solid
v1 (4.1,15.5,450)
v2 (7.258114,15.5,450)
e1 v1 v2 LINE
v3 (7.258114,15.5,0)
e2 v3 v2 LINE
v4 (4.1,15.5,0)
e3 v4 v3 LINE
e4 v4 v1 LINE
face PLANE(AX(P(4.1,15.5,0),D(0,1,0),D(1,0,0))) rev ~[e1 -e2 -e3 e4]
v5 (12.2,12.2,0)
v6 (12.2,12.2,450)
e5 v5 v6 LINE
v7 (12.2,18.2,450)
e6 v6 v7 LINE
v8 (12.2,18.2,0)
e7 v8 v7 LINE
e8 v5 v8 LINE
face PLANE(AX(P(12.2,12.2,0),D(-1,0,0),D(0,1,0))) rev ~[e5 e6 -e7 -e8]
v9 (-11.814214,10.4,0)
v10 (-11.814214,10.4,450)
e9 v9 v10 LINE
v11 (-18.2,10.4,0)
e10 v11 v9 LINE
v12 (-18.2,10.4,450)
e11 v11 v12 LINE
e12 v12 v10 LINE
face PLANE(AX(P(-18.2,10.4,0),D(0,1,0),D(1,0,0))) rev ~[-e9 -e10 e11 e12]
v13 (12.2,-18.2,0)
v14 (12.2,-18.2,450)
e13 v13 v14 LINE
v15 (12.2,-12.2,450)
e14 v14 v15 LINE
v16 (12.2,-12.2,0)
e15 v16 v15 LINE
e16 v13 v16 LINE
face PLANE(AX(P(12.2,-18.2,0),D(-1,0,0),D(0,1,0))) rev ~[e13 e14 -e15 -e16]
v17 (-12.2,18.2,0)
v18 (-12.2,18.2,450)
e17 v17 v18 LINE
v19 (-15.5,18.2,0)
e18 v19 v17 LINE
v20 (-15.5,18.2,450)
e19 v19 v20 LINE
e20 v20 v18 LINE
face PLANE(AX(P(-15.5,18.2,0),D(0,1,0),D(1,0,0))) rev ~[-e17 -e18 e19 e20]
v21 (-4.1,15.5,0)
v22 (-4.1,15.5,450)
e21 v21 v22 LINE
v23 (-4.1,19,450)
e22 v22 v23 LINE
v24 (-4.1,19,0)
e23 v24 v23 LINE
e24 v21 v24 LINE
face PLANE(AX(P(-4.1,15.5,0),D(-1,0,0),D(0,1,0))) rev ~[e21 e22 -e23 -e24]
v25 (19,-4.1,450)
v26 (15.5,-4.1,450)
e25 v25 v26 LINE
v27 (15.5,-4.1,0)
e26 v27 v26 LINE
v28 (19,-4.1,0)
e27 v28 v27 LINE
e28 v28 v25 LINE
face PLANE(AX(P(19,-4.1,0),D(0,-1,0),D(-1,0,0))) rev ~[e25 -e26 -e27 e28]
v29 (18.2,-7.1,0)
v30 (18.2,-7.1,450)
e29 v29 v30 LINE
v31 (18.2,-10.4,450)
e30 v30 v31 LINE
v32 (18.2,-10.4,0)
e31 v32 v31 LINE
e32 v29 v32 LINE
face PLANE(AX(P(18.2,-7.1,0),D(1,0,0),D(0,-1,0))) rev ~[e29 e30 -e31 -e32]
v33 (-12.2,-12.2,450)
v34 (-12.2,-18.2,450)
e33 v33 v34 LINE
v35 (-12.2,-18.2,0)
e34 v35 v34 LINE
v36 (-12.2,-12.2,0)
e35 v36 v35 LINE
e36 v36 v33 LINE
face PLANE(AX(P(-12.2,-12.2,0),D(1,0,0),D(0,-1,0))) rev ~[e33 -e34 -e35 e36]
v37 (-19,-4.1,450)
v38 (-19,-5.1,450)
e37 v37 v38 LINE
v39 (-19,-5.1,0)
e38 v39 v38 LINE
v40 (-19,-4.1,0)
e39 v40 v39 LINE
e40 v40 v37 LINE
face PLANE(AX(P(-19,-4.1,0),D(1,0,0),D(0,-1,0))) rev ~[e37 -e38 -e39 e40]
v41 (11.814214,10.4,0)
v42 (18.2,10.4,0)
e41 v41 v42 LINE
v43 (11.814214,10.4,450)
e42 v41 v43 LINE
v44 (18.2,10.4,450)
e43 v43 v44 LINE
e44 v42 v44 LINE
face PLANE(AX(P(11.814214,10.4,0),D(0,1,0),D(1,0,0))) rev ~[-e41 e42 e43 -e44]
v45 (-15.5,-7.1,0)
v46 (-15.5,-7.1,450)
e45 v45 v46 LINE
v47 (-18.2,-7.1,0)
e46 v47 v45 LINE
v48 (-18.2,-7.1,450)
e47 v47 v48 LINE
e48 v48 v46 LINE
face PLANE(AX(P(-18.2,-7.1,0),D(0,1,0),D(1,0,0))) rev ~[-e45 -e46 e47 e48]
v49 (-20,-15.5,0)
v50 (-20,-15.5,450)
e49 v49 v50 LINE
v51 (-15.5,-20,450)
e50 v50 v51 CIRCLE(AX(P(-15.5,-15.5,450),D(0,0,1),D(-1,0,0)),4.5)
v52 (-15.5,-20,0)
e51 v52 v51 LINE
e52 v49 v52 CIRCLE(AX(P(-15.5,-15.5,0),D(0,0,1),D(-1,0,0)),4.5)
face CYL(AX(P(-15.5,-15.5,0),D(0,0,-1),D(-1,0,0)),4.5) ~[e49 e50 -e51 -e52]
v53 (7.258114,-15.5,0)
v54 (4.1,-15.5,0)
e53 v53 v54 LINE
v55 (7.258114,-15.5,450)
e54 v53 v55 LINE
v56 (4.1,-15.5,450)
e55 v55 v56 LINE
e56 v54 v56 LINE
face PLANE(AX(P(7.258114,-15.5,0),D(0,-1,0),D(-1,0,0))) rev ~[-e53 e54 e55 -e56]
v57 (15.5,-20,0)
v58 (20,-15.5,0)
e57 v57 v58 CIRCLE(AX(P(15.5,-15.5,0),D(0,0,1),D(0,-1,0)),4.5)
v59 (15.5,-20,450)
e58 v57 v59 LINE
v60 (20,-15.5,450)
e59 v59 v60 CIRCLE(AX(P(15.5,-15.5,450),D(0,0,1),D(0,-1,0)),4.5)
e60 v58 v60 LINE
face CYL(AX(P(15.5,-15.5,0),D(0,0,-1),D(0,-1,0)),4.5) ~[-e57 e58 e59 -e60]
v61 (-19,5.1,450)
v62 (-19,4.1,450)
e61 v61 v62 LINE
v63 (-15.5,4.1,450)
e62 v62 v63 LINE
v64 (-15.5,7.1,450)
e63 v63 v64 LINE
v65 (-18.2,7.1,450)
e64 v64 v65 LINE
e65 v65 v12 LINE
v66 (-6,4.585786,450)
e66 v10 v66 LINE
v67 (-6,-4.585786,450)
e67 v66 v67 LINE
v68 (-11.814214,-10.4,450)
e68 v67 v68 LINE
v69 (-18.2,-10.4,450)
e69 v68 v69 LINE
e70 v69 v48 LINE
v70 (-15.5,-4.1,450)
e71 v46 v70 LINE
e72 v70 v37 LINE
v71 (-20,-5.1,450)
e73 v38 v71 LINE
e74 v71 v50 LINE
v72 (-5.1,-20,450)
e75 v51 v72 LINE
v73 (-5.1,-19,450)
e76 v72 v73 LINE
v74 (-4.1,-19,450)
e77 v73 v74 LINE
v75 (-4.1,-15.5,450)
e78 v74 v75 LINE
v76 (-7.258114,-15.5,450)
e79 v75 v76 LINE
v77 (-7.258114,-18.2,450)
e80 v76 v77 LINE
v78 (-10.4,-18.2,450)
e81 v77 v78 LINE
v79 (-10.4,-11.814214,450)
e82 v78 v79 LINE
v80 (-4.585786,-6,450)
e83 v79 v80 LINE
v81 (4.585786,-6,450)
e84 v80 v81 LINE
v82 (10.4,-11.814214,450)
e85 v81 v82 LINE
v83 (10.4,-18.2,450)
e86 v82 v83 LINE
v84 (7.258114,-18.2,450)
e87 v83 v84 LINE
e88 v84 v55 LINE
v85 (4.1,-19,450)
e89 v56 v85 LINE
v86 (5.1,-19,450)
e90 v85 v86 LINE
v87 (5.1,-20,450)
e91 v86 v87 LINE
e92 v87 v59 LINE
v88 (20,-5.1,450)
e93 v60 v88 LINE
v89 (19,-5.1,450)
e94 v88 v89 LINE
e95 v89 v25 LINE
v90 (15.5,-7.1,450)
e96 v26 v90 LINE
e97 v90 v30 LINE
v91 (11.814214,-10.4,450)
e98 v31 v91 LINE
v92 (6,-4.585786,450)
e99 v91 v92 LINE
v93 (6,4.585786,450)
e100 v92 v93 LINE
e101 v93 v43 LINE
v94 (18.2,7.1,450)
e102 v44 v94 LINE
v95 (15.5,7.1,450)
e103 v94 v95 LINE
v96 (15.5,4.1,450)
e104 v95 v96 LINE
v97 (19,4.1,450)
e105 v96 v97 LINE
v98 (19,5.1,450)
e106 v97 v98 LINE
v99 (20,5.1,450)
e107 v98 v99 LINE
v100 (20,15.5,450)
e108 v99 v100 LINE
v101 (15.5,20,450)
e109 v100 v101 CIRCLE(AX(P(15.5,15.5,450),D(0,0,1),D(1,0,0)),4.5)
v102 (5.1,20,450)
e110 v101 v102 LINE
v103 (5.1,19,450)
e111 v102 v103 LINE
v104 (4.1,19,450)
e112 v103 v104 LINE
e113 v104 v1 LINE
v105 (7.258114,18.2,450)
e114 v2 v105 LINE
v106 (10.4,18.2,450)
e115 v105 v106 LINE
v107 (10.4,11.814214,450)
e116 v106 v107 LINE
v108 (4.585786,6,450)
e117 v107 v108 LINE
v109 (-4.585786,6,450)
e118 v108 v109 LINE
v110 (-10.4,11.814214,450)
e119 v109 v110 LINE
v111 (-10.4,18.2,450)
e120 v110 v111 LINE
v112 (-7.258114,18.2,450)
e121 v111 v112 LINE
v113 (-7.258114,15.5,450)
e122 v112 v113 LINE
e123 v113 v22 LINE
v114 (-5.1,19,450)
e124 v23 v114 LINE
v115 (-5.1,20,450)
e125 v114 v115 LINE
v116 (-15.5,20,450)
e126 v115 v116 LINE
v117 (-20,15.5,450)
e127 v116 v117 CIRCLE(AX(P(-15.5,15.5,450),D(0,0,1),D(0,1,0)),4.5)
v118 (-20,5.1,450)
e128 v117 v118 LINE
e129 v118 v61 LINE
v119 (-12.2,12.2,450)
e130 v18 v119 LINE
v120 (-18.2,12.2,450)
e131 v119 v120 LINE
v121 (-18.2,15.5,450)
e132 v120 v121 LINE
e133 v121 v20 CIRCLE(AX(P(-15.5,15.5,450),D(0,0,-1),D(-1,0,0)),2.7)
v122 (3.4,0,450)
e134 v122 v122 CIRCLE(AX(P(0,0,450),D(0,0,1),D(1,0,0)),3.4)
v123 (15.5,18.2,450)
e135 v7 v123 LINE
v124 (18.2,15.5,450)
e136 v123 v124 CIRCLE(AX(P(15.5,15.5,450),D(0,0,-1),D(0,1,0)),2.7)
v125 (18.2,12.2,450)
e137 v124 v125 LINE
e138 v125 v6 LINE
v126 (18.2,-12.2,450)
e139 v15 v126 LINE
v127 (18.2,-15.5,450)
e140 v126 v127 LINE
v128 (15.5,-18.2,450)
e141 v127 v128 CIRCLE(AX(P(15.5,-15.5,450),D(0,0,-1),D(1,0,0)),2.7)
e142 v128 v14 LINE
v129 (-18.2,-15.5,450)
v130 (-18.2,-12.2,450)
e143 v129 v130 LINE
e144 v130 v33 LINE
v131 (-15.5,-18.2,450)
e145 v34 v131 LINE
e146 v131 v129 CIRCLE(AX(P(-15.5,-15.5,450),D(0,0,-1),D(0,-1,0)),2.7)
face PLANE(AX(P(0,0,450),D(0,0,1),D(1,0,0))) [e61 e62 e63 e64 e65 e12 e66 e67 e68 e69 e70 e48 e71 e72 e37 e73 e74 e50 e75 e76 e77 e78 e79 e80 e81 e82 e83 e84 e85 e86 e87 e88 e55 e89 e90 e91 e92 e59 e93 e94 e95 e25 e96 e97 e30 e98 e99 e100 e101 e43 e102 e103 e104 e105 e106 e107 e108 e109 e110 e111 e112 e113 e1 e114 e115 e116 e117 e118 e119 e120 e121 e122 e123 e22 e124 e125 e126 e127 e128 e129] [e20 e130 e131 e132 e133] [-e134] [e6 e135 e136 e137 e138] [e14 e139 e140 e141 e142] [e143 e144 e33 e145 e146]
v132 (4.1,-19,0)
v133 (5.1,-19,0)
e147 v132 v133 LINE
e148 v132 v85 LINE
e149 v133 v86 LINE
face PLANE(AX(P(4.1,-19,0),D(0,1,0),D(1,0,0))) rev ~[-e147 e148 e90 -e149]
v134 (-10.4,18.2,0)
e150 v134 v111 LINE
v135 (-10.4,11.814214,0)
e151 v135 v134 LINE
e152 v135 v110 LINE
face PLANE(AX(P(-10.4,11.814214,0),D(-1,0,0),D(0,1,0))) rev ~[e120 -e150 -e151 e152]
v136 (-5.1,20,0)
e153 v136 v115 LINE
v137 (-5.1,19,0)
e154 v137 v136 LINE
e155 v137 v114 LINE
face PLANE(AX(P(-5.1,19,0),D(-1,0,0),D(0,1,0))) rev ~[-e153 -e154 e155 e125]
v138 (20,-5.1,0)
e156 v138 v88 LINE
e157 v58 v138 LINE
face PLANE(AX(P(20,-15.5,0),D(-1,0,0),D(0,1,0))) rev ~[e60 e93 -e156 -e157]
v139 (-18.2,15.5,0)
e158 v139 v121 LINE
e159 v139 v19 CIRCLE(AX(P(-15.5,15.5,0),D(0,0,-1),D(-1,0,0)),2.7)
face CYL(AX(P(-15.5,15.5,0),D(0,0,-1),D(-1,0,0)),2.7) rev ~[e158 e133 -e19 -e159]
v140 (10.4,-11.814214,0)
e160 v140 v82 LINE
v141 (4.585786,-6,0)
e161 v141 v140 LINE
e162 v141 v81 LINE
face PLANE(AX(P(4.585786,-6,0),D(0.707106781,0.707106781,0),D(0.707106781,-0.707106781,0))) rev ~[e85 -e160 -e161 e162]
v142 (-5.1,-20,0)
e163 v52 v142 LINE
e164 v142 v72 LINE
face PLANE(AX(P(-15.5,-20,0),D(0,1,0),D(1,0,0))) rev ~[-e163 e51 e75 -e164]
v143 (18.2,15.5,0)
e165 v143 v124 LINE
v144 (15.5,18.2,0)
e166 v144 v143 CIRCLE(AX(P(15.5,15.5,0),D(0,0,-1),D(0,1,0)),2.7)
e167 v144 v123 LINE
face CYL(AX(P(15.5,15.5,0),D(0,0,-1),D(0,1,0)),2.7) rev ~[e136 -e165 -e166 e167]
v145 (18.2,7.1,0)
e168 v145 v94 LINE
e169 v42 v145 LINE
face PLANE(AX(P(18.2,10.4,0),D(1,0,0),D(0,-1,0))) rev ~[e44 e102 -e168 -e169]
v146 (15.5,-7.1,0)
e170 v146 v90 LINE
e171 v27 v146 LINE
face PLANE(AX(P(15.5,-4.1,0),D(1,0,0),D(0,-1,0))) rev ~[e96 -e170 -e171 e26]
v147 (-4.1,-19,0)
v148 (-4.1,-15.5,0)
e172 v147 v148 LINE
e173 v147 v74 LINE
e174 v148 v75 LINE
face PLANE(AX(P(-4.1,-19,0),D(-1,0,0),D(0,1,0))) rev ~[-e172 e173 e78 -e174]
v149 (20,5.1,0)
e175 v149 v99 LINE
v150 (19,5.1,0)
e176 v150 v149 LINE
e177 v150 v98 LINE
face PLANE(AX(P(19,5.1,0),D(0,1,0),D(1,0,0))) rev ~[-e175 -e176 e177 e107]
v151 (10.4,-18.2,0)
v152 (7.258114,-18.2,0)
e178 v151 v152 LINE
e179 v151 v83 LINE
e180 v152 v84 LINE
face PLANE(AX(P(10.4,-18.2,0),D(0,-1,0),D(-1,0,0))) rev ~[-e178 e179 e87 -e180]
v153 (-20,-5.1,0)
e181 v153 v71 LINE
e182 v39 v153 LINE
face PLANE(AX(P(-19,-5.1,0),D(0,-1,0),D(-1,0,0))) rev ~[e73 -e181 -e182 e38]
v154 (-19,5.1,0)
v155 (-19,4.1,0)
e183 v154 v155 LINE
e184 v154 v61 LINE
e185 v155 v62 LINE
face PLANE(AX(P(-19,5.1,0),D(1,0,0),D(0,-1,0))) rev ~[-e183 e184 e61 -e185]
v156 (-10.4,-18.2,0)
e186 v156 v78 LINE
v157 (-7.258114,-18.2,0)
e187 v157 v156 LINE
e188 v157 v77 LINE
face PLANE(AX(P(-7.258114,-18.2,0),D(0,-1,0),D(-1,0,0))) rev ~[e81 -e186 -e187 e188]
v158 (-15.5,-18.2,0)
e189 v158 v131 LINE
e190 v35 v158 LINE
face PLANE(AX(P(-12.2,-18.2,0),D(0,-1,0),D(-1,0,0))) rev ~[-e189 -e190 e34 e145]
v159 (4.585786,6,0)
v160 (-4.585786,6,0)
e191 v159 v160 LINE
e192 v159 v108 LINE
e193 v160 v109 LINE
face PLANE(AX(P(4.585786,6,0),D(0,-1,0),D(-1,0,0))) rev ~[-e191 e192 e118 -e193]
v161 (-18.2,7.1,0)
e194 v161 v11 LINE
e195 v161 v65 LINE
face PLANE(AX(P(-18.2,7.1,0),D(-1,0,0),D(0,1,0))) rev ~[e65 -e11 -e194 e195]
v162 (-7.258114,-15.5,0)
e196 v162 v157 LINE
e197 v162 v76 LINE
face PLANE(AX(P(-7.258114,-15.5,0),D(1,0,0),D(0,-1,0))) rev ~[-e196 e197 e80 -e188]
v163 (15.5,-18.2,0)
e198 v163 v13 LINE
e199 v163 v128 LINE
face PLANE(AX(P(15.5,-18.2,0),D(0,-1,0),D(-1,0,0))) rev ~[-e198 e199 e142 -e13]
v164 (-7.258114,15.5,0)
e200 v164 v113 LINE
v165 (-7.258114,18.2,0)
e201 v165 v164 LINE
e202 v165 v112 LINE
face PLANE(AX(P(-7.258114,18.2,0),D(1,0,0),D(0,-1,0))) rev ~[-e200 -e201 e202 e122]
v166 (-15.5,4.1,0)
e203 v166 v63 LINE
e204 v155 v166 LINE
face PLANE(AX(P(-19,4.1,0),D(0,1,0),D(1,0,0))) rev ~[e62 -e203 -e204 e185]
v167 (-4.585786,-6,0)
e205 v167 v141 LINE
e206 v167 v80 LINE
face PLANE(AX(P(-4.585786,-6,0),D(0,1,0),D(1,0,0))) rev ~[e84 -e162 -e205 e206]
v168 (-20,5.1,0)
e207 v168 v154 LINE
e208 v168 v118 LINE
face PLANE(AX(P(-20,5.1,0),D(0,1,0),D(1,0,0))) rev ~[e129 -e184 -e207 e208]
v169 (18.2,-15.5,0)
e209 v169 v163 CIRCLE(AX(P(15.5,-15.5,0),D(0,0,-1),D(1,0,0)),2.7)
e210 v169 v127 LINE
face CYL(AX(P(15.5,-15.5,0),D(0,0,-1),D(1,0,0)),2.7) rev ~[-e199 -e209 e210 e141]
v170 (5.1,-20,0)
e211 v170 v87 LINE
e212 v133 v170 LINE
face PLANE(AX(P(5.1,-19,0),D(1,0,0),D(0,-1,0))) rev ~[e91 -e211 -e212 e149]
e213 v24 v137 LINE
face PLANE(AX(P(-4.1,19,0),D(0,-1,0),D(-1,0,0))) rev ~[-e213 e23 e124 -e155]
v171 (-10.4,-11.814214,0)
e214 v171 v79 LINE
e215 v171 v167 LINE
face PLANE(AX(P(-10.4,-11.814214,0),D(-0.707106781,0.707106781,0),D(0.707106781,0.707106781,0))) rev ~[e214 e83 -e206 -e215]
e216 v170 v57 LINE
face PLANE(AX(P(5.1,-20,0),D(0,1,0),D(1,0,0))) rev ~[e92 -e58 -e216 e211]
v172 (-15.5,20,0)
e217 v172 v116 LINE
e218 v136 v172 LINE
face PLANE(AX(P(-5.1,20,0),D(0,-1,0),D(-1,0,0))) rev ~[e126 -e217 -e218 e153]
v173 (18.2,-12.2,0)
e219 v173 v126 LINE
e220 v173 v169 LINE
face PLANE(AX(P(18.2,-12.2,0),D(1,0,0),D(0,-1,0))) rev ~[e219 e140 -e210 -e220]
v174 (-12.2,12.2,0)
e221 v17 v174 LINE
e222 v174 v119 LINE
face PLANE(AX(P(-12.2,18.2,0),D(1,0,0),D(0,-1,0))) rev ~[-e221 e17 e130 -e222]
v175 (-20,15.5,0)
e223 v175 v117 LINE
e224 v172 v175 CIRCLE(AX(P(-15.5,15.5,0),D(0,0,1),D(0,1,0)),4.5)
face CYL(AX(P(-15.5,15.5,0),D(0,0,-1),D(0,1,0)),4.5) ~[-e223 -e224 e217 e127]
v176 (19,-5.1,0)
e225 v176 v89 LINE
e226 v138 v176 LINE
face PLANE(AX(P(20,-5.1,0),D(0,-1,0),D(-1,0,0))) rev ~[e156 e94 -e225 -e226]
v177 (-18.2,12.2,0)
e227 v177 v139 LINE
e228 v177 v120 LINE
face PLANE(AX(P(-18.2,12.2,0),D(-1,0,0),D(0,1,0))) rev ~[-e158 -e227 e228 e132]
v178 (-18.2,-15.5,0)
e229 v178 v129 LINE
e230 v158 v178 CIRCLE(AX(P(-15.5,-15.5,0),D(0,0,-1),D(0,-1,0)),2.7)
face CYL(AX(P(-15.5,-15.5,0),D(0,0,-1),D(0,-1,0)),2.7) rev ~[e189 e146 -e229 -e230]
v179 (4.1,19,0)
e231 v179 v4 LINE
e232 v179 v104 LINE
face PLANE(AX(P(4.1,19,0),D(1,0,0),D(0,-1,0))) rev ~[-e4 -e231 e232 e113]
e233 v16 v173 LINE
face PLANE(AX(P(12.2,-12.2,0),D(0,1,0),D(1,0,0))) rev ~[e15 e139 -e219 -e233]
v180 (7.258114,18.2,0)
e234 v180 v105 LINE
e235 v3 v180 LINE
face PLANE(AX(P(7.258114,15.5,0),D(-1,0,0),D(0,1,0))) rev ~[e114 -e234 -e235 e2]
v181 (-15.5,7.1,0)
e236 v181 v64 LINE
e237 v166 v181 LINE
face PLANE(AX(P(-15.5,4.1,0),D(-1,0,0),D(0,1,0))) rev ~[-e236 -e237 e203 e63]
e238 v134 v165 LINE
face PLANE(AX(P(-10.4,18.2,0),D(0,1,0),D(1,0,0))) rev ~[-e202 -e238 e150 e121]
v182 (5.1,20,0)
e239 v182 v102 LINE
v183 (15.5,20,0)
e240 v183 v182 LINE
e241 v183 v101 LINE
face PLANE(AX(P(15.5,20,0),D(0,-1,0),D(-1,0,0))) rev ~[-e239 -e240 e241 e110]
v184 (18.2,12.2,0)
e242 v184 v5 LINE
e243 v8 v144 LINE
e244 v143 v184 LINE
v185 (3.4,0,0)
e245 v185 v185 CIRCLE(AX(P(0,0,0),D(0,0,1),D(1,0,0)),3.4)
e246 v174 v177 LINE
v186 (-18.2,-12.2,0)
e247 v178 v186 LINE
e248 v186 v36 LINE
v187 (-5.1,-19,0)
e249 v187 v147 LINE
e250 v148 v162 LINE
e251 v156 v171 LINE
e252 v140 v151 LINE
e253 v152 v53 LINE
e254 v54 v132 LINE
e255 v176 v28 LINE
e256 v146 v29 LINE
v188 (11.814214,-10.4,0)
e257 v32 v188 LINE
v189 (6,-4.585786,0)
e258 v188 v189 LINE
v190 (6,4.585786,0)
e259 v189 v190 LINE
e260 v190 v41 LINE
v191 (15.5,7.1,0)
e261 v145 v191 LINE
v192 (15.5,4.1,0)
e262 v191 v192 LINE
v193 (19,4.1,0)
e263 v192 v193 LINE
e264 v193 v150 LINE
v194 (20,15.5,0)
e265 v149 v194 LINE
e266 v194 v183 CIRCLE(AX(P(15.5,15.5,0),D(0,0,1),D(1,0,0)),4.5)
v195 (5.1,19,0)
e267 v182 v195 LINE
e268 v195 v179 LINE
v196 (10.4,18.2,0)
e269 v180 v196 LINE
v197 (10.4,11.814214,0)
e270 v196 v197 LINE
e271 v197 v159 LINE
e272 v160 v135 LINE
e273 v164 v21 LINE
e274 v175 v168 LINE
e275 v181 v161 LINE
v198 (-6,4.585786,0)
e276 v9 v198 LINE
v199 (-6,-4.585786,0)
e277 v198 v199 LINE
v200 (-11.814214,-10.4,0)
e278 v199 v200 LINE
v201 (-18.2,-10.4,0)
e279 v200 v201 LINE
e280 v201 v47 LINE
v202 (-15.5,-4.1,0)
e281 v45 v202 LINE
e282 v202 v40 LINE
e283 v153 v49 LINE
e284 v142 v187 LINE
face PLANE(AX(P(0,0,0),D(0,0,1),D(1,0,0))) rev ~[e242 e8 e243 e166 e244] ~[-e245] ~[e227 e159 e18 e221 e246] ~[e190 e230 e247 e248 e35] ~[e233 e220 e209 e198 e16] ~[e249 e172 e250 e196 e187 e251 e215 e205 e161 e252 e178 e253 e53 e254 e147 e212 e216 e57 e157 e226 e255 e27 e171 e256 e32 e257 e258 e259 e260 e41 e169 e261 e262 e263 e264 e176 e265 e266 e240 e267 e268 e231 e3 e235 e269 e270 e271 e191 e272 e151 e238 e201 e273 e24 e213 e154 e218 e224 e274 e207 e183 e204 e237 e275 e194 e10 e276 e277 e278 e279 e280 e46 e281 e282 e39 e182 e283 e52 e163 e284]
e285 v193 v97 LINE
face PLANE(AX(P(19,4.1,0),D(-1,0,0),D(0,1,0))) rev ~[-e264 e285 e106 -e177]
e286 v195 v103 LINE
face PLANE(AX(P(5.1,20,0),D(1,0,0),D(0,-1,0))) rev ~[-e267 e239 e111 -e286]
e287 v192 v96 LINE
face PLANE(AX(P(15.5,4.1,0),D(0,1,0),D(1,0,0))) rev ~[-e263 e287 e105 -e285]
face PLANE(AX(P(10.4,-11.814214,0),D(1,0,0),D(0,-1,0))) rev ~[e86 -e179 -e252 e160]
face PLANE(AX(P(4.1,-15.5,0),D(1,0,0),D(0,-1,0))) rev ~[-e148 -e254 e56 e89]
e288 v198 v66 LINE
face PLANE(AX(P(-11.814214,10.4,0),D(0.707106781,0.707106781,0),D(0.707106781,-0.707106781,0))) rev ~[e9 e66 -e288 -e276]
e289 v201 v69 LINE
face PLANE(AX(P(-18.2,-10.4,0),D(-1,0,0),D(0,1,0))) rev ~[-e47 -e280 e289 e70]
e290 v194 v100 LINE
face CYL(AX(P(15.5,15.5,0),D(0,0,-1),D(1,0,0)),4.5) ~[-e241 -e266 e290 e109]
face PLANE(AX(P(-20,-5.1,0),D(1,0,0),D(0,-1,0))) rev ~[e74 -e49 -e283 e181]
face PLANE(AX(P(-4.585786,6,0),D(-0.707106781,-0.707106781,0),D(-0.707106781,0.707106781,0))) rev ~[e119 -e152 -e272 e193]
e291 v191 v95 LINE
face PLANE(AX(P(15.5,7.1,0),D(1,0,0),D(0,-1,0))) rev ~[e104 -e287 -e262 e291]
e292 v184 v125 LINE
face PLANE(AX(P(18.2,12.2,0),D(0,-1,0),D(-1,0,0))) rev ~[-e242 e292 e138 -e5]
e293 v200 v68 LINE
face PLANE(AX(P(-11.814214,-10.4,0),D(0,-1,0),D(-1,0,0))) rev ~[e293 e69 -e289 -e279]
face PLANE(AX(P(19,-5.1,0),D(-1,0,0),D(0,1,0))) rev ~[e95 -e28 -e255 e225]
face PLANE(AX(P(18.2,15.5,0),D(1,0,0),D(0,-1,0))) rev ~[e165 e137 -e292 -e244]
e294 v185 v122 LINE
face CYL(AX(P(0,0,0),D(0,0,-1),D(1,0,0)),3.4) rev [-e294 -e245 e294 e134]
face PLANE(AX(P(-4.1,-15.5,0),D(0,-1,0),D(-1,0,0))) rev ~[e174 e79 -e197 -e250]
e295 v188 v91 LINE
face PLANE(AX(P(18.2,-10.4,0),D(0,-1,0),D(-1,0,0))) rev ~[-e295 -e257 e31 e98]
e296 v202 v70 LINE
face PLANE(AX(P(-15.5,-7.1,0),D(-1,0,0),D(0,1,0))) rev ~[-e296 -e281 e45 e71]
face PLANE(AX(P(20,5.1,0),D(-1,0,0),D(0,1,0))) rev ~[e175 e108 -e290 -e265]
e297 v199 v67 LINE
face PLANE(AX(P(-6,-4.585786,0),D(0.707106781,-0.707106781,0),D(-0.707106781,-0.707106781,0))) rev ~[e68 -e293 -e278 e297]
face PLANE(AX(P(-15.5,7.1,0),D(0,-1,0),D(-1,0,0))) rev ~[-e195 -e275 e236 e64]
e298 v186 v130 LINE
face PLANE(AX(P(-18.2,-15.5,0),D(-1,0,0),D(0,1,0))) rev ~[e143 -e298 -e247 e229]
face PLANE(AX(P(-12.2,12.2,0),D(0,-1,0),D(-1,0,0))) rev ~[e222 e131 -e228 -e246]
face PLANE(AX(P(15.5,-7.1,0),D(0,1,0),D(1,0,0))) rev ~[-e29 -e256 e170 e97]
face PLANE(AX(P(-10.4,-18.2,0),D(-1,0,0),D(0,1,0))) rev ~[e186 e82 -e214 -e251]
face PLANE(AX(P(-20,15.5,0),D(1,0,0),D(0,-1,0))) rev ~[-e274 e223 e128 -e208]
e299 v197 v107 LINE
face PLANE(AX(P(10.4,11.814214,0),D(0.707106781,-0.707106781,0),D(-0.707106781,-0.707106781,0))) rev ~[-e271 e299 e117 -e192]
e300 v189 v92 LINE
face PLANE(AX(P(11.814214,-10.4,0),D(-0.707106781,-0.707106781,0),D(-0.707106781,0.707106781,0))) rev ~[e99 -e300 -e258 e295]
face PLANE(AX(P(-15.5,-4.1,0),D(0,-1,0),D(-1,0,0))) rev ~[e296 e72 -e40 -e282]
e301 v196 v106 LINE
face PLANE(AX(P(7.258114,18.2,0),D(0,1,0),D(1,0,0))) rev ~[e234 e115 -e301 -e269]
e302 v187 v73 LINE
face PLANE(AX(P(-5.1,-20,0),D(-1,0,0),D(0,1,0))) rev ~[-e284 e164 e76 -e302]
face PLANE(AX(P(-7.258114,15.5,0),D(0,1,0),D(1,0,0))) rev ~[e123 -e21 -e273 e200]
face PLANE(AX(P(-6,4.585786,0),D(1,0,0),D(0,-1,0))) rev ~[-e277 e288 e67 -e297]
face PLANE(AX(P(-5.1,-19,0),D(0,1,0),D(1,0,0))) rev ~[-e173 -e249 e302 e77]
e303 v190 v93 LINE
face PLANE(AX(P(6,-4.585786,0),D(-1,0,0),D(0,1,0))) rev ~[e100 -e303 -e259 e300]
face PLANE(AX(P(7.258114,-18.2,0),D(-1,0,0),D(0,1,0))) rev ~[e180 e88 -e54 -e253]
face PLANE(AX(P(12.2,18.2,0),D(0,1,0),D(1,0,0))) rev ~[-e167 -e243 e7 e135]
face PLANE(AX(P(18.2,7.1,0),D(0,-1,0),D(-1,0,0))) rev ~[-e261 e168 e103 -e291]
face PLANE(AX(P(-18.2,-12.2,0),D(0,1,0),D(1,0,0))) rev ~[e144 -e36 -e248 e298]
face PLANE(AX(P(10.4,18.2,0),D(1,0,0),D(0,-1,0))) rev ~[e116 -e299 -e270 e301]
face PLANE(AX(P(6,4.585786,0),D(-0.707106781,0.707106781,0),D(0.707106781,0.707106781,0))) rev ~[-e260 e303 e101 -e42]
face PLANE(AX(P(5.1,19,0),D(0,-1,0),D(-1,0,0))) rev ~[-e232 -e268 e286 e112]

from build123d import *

# Parameters (mm, degrees)
SKETCH3_R           = 3.4
BOSS_EXTRUDE1_DEPTH = 450


with BuildPart() as part:
    # Sketch3 → Boss-Extrude1 (new body)
    with BuildSketch(Plane.XY):
        with BuildLine():
            Line((-11.814213562, 10.4), (-6, 4.585786438))
            Line((-6, 4.585786438), (-6, -4.585786438))
            Line((-6, -4.585786438), (-11.814213562, -10.4))
            Line((-11.814213562, -10.4), (-18.2, -10.4))
            Line((-18.2, -10.4), (-18.2, -7.1))
            Line((-18.2, -7.1), (-15.5, -7.1))
            Line((-15.5, -7.1), (-15.5, -4.1))
            Line((-15.5, -4.1), (-19, -4.1))
            Line((-19, -4.1), (-19, -5.1))
            Line((-19, -5.1), (-20, -5.1))
            Line((-20, -5.1), (-20, -15.5))
            ThreePointArc((-20, -15.5), (-18.681980515, -18.681980515), (-15.5, -20))
            Line((-15.5, -20), (-5.1, -20))
            Line((-5.1, -20), (-5.1, -19))
            Line((-5.1, -19), (-4.1, -19))
            Line((-4.1, -19), (-4.1, -15.5))
            Line((-4.1, -15.5), (-7.258114106, -15.5))
            Line((-7.258114106, -15.5), (-7.258114106, -18.2))
            Line((-7.258114106, -18.2), (-10.4, -18.2))
            Line((-10.4, -18.2), (-10.4, -11.814213562))
            Line((-10.4, -11.814213562), (-4.585786438, -6))
            Line((-4.585786438, -6), (4.585786438, -6))
            Line((4.585786438, -6), (10.4, -11.814213562))
            Line((10.4, -11.814213562), (10.4, -18.2))
            Line((10.4, -18.2), (7.258114106, -18.2))
            Line((7.258114106, -18.2), (7.258114106, -15.5))
            Line((7.258114106, -15.5), (4.1, -15.5))
            Line((4.1, -15.5), (4.1, -19))
            Line((4.1, -19), (5.1, -19))
            Line((5.1, -19), (5.1, -20))
            Line((5.1, -20), (15.5, -20))
            ThreePointArc((15.5, -20), (18.681980515, -18.681980515), (20, -15.5))
            Line((20, -15.5), (20, -5.1))
            Line((20, -5.1), (19, -5.1))
            Line((19, -5.1), (19, -4.1))
            Line((19, -4.1), (15.5, -4.1))
            Line((15.5, -4.1), (15.5, -7.1))
            Line((15.5, -7.1), (18.2, -7.1))
            Line((18.2, -7.1), (18.2, -10.4))
            Line((18.2, -10.4), (11.814213562, -10.4))
            Line((11.814213562, -10.4), (6, -4.585786438))
            Line((6, -4.585786438), (6, 4.585786438))
            Line((6, 4.585786438), (11.814213562, 10.4))
            Line((11.814213562, 10.4), (18.2, 10.4))
            Line((18.2, 10.4), (18.2, 7.1))
            Line((18.2, 7.1), (15.5, 7.1))
            Line((15.5, 7.1), (15.5, 4.1))
            Line((15.5, 4.1), (19, 4.1))
            Line((19, 4.1), (19, 5.1))
            Line((19, 5.1), (20, 5.1))
            Line((20, 5.1), (20, 15.5))
            ThreePointArc((20, 15.5), (18.681980515, 18.681980515), (15.5, 20))
            Line((15.5, 20), (5.1, 20))
            Line((5.1, 20), (5.1, 19))
            Line((5.1, 19), (4.1, 19))
            Line((4.1, 19), (4.1, 15.5))
            Line((4.1, 15.5), (7.258114106, 15.5))
            Line((7.258114106, 15.5), (7.258114106, 18.2))
            Line((7.258114106, 18.2), (10.4, 18.2))
            Line((10.4, 18.2), (10.4, 11.814213562))
            Line((10.4, 11.814213562), (4.585786438, 6))
            Line((4.585786438, 6), (-4.585786438, 6))
            Line((-4.585786438, 6), (-10.4, 11.814213562))
            Line((-10.4, 11.814213562), (-10.4, 18.2))
            Line((-10.4, 18.2), (-7.258114106, 18.2))
            Line((-7.258114106, 18.2), (-7.258114106, 15.5))
            Line((-7.258114106, 15.5), (-4.1, 15.5))
            Line((-4.1, 15.5), (-4.1, 19))
            Line((-4.1, 19), (-5.1, 19))
            Line((-5.1, 19), (-5.1, 20))
            Line((-5.1, 20), (-15.5, 20))
            ThreePointArc((-15.5, 20), (-18.681980515, 18.681980515), (-20, 15.5))
            Line((-20, 15.5), (-20, 5.1))
            Line((-20, 5.1), (-19, 5.1))
            Line((-19, 5.1), (-19, 4.1))
            Line((-19, 4.1), (-15.5, 4.1))
            Line((-15.5, 4.1), (-15.5, 7.1))
            Line((-15.5, 7.1), (-18.2, 7.1))
            Line((-18.2, 7.1), (-18.2, 10.4))
            Line((-18.2, 10.4), (-11.814213562, 10.4))
        make_face()
        with BuildLine():
            Line((-18.2, -15.5), (-18.2, -12.2))
            Line((-18.2, -12.2), (-12.2, -12.2))
            Line((-12.2, -12.2), (-12.2, -18.2))
            Line((-12.2, -18.2), (-15.5, -18.2))
            ThreePointArc((-15.5, -18.2), (-17.409188309, -17.409188309), (-18.2, -15.5))
        make_face(mode=Mode.SUBTRACT)
        Circle(SKETCH3_R, mode=Mode.SUBTRACT)
        with BuildLine():
            Line((-18.2, 12.2), (-18.2, 15.5))
            ThreePointArc((-18.2, 15.5), (-17.409188309, 17.409188309), (-15.5, 18.2))
            Line((-15.5, 18.2), (-12.2, 18.2))
            Line((-12.2, 18.2), (-12.2, 12.2))
            Line((-12.2, 12.2), (-18.2, 12.2))
        make_face(mode=Mode.SUBTRACT)
        with BuildLine():
            Line((18.2, 15.5), (18.2, 12.2))
            Line((18.2, 12.2), (12.2, 12.2))
            Line((12.2, 12.2), (12.2, 18.2))
            Line((12.2, 18.2), (15.5, 18.2))
            ThreePointArc((15.5, 18.2), (17.409188309, 17.409188309), (18.2, 15.5))
        make_face(mode=Mode.SUBTRACT)
        with BuildLine():
            Line((12.2, -18.2), (12.2, -12.2))
            Line((12.2, -12.2), (18.2, -12.2))
            Line((18.2, -12.2), (18.2, -15.5))
            ThreePointArc((18.2, -15.5), (17.409188309, -17.409188309), (15.5, -18.2))
            Line((15.5, -18.2), (12.2, -18.2))
        make_face(mode=Mode.SUBTRACT)
    extrude(amount=BOSS_EXTRUDE1_DEPTH)


solid = part.part
